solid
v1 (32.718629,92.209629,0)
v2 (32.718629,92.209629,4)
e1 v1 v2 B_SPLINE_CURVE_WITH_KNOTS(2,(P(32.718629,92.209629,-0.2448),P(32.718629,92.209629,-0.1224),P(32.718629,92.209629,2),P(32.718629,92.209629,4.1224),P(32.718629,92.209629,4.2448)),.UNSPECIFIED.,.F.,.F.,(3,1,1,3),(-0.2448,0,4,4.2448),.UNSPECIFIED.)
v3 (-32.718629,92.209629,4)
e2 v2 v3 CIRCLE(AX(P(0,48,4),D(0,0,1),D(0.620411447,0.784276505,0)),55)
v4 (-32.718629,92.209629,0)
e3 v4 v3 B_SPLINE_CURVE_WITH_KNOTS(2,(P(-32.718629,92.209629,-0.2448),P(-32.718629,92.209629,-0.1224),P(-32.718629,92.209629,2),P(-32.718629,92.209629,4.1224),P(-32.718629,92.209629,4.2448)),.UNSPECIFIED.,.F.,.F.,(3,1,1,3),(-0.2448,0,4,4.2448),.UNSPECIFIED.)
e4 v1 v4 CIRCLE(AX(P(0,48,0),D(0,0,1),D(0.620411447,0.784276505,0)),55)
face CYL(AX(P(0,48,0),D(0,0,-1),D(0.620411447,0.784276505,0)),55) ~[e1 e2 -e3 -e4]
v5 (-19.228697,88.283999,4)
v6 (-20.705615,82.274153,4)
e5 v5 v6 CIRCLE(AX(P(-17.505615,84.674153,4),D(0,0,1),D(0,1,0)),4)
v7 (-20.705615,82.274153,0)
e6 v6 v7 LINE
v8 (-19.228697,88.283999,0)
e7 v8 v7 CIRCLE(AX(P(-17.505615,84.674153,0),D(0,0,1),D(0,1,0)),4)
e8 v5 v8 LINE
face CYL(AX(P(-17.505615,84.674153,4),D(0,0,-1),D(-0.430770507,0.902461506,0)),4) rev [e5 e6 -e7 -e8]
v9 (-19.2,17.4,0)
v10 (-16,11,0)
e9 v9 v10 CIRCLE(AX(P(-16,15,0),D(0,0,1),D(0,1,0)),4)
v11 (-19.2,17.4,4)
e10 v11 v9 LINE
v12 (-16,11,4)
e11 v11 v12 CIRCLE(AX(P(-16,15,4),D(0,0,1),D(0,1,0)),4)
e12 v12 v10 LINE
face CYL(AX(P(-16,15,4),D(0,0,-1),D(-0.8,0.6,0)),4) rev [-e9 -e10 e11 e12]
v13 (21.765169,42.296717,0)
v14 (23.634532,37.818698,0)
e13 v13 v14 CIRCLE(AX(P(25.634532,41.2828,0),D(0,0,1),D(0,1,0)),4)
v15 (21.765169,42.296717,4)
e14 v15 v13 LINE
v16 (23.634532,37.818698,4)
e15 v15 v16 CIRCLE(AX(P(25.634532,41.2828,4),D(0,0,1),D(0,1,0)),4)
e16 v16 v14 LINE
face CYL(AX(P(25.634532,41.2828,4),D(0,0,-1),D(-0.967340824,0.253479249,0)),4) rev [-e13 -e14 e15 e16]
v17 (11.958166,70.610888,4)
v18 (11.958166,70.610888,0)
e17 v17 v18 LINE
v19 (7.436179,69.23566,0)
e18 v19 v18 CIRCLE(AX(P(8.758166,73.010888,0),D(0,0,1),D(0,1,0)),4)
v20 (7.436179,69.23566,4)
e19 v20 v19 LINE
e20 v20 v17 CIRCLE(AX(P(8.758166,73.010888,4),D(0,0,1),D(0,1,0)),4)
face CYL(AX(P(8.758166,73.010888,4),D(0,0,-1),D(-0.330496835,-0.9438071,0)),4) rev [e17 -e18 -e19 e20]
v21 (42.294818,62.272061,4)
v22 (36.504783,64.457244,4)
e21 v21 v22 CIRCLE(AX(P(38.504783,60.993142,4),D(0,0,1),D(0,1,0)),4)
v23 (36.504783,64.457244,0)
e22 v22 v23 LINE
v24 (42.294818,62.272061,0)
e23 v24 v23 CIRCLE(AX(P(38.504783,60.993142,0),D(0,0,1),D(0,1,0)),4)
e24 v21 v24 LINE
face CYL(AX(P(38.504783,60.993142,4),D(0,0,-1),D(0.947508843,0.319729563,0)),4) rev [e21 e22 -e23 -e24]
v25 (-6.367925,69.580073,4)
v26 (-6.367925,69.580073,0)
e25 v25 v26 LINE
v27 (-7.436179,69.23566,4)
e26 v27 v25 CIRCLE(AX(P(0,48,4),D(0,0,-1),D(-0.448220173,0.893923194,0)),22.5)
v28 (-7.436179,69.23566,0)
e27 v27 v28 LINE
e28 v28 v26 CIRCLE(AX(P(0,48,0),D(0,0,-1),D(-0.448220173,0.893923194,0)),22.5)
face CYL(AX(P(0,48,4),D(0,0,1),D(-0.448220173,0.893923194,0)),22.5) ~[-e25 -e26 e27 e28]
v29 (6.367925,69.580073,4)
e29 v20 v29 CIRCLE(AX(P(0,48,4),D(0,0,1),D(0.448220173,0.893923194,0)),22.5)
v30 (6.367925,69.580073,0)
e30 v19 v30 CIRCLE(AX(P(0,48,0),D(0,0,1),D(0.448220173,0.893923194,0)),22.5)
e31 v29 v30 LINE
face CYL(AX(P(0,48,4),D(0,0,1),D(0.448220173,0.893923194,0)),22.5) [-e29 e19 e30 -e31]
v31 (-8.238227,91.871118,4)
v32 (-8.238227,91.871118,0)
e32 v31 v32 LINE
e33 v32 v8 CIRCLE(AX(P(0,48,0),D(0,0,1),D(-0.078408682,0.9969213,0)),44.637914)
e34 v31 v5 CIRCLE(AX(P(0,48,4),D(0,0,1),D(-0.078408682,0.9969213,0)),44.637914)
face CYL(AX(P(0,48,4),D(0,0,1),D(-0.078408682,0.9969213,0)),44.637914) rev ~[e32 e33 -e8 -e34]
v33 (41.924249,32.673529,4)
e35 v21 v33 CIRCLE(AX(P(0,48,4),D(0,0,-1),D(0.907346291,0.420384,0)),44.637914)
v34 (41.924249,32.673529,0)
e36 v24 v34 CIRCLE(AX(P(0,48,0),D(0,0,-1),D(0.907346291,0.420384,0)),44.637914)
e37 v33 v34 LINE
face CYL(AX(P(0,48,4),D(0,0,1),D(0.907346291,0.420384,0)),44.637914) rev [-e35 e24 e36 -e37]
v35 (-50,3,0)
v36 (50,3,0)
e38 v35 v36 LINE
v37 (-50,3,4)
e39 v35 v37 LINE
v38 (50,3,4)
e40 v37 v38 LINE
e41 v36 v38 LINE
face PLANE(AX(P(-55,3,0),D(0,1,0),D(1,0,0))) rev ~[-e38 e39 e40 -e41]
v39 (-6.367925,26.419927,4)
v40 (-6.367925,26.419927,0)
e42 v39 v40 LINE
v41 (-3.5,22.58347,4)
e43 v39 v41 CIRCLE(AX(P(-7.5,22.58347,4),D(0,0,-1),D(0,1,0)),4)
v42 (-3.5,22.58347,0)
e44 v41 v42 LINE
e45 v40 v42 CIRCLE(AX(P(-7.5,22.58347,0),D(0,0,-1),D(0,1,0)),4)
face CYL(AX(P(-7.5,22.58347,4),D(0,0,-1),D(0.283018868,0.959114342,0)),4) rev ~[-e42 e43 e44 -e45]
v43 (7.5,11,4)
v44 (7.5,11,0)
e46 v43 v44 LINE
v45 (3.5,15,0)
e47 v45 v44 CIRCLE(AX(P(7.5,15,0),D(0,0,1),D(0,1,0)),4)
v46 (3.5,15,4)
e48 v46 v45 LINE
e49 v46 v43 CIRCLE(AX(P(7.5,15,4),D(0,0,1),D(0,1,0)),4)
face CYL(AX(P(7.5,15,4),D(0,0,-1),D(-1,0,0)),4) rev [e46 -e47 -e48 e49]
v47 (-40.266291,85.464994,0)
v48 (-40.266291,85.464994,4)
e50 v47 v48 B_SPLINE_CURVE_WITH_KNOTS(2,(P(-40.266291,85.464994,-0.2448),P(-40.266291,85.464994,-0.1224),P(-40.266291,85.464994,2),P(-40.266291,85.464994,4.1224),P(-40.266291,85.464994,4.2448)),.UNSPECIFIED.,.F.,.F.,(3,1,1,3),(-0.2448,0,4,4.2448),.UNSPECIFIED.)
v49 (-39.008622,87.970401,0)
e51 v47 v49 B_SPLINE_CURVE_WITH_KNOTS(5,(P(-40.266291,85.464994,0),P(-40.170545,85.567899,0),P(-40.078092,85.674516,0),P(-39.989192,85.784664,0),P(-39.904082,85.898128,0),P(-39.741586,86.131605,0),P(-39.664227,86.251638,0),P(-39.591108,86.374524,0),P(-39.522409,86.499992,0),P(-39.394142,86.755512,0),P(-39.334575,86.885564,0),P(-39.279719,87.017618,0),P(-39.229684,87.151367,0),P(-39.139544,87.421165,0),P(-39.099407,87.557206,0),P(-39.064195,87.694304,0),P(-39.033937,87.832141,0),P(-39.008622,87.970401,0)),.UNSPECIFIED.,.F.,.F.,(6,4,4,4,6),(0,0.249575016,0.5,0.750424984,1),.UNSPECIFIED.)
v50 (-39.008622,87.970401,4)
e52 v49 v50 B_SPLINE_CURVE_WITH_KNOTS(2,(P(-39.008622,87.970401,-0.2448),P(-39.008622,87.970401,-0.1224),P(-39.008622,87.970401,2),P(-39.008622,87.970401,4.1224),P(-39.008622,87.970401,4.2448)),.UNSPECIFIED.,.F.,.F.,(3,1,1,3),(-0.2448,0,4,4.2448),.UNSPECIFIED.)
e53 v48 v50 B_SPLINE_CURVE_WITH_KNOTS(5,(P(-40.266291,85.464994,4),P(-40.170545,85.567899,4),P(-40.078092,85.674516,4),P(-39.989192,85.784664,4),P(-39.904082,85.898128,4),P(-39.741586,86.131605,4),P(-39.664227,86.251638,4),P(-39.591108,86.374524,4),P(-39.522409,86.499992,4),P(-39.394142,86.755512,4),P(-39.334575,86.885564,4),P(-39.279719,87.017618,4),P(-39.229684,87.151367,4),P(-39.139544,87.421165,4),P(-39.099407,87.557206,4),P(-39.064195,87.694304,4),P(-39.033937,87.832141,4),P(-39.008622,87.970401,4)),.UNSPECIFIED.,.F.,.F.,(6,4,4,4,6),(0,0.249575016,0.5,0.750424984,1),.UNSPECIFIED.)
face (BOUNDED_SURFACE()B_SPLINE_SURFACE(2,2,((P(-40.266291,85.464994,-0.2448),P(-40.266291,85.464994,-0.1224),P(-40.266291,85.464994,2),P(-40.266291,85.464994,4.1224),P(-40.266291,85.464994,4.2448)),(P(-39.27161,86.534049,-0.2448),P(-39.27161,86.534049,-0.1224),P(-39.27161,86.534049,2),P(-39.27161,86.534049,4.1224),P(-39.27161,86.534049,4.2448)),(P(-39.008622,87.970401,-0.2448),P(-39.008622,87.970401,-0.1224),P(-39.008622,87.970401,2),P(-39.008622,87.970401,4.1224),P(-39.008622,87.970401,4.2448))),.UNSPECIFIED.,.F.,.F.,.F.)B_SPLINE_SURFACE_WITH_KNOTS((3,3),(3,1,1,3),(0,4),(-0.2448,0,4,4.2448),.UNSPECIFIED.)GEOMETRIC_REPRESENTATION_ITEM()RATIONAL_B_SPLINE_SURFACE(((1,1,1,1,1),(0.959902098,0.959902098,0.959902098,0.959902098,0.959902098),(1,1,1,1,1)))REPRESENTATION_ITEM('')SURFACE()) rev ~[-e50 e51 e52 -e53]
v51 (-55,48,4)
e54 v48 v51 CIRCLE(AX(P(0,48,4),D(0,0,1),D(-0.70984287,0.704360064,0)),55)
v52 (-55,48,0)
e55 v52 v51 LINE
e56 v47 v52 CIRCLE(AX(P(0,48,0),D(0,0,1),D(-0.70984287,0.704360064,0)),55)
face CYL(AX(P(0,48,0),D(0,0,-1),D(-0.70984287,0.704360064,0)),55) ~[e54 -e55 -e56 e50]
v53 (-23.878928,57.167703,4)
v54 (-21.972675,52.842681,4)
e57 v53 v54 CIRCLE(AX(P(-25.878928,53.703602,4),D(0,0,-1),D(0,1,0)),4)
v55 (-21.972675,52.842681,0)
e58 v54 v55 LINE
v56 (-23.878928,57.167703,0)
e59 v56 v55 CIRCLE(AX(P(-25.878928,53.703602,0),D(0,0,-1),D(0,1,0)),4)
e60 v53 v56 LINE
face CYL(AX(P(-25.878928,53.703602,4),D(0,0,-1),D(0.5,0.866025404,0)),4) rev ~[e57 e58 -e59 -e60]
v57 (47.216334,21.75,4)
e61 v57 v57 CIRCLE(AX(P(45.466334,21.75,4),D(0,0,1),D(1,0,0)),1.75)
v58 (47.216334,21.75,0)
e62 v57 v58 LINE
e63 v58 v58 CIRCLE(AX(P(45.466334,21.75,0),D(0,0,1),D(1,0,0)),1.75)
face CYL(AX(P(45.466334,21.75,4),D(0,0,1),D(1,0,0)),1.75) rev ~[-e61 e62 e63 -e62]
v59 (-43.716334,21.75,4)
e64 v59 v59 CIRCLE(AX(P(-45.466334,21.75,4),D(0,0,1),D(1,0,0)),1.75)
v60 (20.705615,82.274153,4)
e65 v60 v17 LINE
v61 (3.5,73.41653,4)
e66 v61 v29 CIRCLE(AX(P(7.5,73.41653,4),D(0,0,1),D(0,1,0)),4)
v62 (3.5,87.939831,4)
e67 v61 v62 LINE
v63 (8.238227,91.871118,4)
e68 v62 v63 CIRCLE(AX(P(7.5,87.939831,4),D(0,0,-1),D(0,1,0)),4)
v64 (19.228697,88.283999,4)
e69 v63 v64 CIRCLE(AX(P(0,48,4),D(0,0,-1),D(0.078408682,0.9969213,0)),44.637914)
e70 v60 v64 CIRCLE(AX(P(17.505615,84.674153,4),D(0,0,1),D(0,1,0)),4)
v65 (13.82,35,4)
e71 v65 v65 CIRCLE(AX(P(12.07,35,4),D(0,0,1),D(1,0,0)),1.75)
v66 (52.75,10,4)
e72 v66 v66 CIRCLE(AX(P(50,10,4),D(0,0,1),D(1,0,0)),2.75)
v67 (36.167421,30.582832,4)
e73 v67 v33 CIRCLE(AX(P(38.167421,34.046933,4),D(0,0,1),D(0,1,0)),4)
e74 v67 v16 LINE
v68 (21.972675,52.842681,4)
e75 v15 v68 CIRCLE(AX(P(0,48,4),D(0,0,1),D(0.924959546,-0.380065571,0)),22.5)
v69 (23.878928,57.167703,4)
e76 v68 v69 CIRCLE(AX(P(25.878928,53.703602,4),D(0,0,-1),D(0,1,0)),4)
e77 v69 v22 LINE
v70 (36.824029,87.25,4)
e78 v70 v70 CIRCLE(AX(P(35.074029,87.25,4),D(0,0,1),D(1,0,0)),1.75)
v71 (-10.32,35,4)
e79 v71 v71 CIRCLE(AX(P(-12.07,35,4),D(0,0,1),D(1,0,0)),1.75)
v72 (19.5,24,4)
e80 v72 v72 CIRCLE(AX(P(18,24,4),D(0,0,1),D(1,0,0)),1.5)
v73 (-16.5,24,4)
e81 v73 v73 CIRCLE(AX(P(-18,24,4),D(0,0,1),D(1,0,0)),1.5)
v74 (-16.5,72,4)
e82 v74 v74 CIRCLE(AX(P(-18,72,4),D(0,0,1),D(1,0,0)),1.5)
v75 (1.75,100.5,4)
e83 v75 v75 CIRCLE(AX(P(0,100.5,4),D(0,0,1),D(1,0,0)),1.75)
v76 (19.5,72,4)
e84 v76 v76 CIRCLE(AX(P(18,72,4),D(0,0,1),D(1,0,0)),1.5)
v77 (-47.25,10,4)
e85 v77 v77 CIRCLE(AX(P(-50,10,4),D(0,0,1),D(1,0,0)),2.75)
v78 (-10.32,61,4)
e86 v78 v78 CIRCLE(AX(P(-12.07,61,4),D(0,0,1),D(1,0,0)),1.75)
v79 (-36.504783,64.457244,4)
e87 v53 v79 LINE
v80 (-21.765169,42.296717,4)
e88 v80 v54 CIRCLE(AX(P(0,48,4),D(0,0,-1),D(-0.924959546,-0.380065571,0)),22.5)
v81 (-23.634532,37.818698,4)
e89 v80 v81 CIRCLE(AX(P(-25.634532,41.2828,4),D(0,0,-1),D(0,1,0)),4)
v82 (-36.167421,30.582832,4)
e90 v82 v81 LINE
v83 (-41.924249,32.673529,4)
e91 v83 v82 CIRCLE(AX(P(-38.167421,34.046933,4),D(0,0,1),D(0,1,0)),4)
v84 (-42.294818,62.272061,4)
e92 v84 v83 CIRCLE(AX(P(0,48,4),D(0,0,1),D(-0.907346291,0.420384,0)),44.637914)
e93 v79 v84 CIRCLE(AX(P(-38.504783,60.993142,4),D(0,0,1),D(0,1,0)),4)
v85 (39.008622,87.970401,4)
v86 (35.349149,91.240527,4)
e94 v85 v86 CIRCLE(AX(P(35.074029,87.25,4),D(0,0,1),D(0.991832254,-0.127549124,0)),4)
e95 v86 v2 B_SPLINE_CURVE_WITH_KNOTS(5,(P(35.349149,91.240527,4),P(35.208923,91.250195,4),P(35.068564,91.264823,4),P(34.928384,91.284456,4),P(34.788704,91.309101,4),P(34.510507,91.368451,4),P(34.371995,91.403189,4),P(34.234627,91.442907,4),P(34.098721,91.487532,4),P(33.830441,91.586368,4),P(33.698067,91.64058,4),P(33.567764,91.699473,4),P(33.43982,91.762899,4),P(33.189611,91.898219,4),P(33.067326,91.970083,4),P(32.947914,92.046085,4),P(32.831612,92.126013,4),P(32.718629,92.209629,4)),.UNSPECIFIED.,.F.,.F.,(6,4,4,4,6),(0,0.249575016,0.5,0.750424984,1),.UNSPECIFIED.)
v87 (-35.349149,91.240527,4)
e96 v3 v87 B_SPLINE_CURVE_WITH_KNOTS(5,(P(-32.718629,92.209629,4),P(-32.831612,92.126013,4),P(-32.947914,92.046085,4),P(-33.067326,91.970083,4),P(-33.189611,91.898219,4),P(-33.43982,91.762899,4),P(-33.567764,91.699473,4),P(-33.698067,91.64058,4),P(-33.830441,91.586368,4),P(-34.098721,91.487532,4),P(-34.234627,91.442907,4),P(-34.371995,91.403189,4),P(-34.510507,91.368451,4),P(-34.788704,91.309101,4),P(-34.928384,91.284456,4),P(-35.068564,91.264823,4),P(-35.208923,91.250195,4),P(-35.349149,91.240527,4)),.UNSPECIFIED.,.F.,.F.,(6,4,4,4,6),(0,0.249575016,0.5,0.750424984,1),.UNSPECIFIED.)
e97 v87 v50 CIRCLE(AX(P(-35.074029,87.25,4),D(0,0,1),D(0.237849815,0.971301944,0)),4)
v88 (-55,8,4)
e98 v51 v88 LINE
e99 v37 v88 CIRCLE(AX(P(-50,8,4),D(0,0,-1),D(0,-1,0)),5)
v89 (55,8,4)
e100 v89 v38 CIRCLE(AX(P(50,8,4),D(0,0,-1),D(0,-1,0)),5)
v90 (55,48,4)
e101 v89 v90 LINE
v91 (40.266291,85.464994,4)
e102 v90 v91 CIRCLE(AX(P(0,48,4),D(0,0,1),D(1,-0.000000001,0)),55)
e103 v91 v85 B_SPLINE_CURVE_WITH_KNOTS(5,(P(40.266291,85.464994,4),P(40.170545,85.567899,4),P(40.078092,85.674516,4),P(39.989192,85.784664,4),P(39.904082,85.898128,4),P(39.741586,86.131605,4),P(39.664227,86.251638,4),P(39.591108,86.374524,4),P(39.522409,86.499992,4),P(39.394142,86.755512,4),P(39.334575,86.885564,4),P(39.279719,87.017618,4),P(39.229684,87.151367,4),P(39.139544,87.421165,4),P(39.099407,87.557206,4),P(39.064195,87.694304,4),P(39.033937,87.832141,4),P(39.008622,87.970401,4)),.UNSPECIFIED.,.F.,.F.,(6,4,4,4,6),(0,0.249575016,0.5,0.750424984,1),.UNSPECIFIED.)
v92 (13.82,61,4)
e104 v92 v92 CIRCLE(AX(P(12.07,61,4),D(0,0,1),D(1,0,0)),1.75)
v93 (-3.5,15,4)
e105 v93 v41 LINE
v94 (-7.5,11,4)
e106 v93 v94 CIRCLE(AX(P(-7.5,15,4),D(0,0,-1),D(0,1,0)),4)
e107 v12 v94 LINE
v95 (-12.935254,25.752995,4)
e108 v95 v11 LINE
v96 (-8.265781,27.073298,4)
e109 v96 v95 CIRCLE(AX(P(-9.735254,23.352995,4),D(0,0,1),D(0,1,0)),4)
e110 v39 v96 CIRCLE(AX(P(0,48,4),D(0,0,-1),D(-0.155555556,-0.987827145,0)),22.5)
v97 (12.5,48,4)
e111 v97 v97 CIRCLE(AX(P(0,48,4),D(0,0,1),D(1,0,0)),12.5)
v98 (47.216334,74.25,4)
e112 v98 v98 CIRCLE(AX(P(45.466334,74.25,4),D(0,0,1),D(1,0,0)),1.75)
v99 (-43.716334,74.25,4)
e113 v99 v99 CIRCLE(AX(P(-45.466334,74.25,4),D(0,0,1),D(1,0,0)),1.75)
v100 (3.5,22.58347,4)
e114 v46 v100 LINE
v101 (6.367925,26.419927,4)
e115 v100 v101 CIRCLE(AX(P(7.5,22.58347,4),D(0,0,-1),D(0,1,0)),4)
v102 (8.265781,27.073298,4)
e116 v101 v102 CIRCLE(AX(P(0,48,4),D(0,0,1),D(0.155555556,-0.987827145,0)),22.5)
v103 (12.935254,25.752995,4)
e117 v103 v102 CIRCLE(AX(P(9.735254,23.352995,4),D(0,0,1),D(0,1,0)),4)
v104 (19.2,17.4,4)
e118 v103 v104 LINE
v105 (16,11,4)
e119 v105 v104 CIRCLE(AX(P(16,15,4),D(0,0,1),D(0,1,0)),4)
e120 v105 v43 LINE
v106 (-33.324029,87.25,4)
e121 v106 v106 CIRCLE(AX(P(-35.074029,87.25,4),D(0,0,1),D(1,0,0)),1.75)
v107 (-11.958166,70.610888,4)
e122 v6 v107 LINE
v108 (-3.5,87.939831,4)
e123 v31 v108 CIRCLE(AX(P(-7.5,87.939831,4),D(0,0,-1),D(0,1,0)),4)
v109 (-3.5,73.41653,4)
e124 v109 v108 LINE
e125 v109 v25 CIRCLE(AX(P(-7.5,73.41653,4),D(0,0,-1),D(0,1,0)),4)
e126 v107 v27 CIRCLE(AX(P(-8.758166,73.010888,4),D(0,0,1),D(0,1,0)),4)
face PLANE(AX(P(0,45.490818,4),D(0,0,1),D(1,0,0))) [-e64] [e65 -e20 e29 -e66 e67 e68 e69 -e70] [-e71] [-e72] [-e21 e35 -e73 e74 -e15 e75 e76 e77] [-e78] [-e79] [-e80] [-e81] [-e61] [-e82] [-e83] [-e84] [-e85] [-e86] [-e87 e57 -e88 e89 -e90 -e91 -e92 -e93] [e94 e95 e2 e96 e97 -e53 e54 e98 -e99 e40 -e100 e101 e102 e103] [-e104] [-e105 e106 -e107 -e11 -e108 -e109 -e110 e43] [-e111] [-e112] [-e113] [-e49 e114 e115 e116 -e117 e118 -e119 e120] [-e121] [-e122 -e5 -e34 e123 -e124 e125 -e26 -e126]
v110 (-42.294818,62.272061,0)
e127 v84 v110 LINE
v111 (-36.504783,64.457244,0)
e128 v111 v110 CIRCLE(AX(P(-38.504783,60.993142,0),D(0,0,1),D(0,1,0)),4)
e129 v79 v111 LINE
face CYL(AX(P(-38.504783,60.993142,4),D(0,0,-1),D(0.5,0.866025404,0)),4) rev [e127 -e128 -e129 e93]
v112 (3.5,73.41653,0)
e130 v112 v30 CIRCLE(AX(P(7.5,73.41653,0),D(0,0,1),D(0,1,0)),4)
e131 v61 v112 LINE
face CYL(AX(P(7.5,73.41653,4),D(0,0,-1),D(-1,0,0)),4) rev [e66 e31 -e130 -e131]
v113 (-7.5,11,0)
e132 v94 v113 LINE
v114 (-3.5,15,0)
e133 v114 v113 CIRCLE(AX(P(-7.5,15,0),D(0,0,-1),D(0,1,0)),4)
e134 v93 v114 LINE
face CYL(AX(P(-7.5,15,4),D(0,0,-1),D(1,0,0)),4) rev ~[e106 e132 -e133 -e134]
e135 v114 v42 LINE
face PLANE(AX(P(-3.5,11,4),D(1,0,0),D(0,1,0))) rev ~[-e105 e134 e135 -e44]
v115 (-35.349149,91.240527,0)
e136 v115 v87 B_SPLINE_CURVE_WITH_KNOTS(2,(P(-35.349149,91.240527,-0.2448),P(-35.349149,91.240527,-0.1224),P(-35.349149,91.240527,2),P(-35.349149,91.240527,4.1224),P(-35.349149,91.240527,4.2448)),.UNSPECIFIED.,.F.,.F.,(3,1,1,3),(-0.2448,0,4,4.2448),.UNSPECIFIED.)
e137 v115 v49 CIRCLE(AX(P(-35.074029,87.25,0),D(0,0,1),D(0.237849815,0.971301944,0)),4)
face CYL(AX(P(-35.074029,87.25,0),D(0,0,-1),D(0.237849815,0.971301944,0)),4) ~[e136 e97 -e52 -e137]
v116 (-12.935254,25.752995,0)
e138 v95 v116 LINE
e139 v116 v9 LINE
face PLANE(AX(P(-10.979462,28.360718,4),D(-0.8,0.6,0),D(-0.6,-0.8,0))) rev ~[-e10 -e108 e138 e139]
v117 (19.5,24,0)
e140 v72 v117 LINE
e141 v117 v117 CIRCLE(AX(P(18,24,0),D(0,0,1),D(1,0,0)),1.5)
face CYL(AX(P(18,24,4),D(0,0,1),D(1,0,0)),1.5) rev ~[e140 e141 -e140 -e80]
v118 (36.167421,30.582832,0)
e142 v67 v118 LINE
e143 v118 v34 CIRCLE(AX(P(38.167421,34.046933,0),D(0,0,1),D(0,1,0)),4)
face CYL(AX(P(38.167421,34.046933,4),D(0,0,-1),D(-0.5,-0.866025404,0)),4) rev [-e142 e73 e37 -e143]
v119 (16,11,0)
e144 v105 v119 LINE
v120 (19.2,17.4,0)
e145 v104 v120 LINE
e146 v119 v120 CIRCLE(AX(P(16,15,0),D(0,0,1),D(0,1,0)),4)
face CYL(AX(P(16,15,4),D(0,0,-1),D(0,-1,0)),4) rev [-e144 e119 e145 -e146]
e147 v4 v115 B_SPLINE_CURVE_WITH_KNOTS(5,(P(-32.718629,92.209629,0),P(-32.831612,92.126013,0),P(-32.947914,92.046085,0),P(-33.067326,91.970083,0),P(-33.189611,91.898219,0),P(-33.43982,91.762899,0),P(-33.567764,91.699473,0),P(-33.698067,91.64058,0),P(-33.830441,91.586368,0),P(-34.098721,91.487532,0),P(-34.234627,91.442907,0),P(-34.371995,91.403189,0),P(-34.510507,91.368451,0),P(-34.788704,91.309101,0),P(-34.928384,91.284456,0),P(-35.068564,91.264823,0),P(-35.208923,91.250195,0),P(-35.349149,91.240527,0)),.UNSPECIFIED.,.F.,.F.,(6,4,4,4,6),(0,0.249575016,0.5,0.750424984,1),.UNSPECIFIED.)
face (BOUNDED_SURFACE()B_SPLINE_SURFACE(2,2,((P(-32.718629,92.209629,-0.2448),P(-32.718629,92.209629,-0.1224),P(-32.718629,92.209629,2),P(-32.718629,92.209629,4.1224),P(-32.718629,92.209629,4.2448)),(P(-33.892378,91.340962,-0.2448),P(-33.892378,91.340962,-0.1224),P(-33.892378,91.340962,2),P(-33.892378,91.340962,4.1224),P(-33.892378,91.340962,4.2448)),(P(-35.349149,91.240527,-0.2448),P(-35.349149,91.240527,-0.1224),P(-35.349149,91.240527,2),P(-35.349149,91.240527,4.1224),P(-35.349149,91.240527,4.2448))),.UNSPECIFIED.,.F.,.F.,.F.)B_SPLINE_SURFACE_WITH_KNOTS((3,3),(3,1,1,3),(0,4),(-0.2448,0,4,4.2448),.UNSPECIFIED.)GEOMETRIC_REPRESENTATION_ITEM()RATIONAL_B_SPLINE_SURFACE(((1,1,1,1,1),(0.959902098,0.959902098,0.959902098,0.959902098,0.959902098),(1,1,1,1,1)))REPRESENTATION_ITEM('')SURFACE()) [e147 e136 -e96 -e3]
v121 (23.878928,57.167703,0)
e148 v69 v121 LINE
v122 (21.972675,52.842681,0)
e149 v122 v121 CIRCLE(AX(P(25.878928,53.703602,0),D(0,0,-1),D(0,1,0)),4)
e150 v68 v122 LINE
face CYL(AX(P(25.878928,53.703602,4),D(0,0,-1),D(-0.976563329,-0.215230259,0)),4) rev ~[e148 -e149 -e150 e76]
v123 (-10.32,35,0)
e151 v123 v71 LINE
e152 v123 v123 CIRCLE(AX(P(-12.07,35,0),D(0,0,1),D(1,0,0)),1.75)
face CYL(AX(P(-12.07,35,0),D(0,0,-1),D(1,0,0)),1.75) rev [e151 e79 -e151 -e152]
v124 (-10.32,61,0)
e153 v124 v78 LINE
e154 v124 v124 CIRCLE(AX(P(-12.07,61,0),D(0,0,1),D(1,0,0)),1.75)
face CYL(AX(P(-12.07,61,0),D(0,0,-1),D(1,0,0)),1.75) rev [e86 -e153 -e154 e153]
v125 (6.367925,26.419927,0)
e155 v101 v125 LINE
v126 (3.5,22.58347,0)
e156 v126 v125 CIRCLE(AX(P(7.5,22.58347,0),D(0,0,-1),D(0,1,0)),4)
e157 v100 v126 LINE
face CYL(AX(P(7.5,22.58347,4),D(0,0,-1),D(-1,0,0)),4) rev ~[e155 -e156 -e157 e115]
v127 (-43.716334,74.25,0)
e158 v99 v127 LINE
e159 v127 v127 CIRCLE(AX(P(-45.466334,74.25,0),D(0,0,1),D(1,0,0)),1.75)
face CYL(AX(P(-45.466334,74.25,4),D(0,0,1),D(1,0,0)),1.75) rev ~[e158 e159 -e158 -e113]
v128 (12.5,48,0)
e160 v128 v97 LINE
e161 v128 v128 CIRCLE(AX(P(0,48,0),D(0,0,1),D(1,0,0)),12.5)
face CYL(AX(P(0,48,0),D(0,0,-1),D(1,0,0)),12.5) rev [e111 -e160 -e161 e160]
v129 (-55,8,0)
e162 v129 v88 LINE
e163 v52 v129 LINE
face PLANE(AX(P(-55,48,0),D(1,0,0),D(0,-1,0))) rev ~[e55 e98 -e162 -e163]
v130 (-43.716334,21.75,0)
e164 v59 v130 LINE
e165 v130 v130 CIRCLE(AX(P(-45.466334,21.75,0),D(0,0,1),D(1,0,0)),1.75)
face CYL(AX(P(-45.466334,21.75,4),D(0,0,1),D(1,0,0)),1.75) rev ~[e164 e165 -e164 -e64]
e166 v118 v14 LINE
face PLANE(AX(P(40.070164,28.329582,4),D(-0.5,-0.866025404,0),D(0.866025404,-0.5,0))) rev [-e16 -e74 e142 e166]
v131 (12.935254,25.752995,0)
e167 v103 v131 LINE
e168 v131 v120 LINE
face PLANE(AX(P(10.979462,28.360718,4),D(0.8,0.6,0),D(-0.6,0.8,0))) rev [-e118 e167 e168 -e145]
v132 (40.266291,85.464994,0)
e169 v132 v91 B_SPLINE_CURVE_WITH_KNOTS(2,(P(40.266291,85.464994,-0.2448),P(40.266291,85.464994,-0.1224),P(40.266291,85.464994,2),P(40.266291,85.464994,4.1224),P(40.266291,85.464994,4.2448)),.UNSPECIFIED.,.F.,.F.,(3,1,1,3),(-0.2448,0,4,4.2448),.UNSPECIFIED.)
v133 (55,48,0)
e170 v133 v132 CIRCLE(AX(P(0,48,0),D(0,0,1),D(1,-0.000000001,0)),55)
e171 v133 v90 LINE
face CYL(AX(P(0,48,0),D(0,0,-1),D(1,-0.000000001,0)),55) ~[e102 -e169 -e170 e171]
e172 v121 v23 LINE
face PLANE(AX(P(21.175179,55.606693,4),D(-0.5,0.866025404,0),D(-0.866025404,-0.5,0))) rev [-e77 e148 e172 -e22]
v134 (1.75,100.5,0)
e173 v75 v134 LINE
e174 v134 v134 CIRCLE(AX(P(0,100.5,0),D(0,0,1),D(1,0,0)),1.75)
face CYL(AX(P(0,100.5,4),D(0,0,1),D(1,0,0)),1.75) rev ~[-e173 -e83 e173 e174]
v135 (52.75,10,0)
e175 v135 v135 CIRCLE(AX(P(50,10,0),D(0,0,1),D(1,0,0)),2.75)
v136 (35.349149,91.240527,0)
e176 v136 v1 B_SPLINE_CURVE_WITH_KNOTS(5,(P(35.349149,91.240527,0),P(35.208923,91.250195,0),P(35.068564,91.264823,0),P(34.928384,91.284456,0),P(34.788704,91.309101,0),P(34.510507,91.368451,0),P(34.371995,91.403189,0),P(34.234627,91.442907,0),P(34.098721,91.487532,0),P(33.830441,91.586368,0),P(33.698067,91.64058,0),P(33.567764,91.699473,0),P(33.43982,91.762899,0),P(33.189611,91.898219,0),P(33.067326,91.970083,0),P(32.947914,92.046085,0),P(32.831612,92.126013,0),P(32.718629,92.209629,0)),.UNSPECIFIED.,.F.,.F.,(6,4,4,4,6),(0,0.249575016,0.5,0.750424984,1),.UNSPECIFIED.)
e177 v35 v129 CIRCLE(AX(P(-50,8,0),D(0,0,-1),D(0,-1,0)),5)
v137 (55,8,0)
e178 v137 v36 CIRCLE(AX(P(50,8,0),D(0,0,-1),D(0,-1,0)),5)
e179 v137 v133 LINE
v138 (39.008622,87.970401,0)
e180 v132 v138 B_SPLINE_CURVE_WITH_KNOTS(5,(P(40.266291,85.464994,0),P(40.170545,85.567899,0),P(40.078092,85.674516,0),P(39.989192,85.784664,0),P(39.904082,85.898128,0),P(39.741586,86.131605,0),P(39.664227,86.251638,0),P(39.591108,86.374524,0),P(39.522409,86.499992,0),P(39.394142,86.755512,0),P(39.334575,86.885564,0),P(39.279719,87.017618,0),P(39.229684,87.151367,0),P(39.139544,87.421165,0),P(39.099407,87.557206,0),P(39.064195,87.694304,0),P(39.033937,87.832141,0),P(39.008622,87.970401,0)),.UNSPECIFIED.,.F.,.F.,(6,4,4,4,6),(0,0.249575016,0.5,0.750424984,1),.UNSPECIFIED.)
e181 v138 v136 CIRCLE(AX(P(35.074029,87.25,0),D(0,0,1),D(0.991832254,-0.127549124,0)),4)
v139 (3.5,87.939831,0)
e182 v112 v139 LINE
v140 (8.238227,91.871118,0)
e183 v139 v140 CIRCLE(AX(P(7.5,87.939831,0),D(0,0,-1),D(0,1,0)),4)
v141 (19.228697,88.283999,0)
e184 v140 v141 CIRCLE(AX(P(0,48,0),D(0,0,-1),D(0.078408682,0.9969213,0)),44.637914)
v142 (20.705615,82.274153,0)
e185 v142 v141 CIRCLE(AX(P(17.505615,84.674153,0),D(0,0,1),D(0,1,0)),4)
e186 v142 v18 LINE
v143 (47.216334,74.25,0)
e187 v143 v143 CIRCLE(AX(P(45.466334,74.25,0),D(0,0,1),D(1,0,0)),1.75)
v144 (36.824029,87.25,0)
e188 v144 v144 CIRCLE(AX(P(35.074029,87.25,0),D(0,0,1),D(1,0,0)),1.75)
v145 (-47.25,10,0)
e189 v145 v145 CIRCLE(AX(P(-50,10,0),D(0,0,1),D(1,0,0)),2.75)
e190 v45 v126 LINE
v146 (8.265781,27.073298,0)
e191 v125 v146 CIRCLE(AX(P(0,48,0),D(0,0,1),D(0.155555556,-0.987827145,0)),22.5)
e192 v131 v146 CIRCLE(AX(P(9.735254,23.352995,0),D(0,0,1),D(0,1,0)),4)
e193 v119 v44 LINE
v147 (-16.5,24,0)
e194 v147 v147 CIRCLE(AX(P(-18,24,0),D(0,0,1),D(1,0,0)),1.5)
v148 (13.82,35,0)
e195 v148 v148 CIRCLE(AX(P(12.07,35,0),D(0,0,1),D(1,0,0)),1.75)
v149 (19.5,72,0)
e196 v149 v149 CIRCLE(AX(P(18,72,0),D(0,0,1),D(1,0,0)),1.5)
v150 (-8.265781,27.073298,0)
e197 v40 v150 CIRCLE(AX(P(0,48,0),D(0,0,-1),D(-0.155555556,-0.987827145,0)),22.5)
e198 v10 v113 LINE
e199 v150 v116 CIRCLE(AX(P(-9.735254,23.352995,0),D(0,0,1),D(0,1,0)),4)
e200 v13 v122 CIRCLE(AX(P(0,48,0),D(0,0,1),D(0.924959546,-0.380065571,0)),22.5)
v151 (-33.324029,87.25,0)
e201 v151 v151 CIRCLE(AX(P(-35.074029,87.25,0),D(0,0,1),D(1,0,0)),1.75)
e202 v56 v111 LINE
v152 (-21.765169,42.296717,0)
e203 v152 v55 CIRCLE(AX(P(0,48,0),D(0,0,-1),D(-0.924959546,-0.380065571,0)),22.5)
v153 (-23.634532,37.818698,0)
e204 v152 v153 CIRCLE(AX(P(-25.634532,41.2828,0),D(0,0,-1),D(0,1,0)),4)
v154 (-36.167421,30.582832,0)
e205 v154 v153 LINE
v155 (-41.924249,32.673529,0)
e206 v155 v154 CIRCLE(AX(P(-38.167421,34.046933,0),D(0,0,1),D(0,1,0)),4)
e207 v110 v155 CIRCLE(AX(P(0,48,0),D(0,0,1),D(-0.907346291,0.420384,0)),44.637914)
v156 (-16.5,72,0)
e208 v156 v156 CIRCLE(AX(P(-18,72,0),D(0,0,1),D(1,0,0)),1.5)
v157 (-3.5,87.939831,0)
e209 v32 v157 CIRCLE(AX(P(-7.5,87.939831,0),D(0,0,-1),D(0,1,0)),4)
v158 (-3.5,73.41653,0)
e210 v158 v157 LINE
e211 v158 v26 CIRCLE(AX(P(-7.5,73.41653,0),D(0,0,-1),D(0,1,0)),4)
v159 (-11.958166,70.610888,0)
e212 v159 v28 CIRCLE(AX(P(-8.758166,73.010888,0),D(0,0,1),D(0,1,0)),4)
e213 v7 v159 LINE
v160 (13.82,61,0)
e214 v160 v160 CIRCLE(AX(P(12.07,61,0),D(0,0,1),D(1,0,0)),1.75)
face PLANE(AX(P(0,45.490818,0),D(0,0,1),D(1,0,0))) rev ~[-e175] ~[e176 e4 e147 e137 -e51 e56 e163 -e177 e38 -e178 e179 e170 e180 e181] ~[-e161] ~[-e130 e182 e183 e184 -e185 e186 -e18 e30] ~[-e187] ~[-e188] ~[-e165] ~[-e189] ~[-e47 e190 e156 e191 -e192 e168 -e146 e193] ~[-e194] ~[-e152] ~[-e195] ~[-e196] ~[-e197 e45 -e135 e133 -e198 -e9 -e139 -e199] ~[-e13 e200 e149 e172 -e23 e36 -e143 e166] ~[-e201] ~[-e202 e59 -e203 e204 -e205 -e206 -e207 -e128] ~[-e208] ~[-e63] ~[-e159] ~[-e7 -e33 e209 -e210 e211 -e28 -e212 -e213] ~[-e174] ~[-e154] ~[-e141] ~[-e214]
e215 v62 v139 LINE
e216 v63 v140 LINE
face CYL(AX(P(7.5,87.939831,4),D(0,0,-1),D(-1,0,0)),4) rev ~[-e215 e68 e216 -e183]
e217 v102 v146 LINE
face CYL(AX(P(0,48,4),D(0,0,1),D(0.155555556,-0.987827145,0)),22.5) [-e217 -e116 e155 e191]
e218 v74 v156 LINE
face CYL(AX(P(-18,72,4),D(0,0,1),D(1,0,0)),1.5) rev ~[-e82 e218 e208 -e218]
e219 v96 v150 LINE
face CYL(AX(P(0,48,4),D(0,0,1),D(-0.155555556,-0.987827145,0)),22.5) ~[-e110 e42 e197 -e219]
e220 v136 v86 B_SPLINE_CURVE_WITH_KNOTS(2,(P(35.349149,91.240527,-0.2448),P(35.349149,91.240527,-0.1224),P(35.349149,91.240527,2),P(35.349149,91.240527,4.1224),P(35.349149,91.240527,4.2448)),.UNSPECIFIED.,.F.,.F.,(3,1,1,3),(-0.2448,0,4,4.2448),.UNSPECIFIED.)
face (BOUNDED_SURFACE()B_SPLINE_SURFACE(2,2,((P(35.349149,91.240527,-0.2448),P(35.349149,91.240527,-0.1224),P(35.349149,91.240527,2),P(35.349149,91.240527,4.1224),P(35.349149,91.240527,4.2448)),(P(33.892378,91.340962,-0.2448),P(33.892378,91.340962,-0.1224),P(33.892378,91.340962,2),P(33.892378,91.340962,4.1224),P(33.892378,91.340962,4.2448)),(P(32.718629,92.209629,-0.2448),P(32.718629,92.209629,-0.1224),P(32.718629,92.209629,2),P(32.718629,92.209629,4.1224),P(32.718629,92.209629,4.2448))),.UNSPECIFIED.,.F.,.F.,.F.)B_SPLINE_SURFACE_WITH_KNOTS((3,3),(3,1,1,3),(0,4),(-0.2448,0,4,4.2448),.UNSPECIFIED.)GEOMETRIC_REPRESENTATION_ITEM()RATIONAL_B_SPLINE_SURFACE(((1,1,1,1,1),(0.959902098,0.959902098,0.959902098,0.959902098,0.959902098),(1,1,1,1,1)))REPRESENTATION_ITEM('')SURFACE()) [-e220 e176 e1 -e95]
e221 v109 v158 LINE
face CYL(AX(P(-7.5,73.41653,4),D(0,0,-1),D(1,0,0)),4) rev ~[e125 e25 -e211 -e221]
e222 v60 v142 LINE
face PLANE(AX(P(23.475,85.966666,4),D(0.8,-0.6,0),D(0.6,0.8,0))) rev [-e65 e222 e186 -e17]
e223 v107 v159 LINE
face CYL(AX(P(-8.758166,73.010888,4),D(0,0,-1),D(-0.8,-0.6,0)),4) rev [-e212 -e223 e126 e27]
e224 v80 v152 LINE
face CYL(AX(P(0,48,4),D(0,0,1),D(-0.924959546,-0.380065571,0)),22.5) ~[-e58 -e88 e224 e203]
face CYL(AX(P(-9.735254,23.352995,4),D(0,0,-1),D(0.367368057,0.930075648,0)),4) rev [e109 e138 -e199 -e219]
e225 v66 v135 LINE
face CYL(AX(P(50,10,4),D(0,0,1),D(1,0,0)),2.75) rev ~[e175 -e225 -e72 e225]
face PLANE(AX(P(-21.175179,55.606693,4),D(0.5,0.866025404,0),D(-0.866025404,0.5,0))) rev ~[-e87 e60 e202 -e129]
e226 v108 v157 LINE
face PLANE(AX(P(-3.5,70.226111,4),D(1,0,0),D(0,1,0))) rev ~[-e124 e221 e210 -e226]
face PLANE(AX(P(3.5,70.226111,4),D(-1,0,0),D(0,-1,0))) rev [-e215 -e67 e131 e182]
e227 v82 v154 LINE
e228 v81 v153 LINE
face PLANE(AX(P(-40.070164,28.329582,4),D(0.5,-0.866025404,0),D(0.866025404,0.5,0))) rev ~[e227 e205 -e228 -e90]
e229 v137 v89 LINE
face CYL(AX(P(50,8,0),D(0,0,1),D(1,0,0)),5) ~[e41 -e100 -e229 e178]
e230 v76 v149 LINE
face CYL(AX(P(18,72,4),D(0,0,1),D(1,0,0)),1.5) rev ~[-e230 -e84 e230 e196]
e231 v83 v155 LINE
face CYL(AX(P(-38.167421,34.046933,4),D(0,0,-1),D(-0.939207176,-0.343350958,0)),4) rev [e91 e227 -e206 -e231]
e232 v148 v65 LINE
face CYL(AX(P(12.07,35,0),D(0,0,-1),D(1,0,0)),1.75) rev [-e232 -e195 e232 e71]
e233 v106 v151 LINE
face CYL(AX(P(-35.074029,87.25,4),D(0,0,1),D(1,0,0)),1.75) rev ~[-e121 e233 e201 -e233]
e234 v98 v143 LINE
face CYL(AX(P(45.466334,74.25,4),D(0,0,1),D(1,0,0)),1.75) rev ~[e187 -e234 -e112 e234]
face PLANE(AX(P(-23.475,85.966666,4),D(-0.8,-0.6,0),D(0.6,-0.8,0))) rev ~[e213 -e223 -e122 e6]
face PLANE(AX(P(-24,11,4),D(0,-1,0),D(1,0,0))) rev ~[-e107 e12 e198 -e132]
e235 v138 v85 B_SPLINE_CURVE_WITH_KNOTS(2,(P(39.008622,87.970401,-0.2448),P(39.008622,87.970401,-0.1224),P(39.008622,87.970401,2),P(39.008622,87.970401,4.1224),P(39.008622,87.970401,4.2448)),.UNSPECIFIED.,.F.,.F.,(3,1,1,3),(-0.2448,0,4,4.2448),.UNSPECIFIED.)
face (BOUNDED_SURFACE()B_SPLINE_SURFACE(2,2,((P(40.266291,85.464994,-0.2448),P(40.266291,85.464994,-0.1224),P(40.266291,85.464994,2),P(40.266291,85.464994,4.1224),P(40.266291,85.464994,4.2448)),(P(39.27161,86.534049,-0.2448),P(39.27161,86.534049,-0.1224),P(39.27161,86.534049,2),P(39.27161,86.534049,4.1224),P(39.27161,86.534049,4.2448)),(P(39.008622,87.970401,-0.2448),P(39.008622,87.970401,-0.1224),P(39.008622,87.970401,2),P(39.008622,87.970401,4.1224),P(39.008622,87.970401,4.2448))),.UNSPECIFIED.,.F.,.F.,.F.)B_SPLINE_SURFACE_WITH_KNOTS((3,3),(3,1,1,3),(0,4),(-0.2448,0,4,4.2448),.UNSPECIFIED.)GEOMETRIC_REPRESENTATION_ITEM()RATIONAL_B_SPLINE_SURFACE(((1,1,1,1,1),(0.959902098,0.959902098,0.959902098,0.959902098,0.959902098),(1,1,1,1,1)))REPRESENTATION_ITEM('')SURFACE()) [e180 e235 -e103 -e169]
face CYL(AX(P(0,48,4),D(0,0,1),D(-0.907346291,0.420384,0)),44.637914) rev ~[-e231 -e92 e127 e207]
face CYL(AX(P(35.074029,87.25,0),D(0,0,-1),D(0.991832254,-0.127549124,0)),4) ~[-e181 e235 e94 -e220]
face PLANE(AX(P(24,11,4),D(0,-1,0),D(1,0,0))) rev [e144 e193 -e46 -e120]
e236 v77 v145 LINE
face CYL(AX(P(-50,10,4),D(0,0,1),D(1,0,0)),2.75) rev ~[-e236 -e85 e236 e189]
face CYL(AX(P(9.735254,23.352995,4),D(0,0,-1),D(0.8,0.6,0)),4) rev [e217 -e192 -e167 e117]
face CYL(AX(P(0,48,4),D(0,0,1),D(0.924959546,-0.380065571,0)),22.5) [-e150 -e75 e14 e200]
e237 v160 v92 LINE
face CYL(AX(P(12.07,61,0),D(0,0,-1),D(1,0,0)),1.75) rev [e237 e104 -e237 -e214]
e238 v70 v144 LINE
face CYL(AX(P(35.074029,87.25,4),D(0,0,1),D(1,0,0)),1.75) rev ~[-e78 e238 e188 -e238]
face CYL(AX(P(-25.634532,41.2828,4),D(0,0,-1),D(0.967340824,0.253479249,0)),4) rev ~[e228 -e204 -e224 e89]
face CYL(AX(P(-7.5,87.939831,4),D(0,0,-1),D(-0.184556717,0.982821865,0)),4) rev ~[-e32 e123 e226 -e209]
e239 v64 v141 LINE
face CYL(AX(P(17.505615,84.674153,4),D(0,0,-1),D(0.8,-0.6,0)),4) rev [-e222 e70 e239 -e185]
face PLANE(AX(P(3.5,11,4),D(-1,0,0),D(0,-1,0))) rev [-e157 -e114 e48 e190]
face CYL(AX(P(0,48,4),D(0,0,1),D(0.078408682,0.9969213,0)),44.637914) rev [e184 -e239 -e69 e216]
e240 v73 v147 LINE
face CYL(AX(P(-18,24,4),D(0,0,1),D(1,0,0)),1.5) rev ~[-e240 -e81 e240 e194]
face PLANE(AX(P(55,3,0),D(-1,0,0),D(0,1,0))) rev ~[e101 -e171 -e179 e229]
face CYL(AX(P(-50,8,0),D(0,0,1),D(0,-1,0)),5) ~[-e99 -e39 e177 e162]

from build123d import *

# Parameters (mm, degrees)
SKETCH_2_R          = 1.25
SKETCH_2_R_2        = 1.75
SKETCH_2_R_3        = 12.5
SKETCH_2_R_4        = 2.55
SKETCH_2_R_5        = 1.5
SKETCH_2_R_6        = 1.55
EXTRUDE_1_DEPTH     = 4
CUT_EXTRUDE_1_DEPTH = 4
FILLET_2_R          = 4
FILLET_3_R          = 4
FILLET_4_R          = 5
SKETCH_4_R          = 1.75
SKETCH_4_R_2        = 1.5
SKETCH_4_R_3        = 2.75
CUT_EXTRUDE_2_DEPTH = 10


with BuildPart() as part:
    # 草图2 → 凸台-拉伸1 (new body)
    with BuildSketch(Plane.XY):
        with BuildLine():
            Line((55, 3), (55, 47.999999928))
            ThreePointArc((55, 47.999999928), (50.85407892, 68.949049075), (39.041357871, 86.739803505))
            ThreePointArc((39.041357871, 86.739803505), (37.739334229, 90.232640986), (34.122629592, 91.135207774))
            ThreePointArc((34.122629592, 91.135207774), (0, 103), (-34.122629592, 91.135207774))
            ThreePointArc((-34.122629592, 91.135207774), (-37.739334229, 90.232640986), (-39.041357871, 86.739803505))
            ThreePointArc((-39.041357871, 86.739803505), (-50.854078907, 68.949049108), (-55, 48))
            Line((-55, 48), (-55, 3))
            Line((-55, 3), (55, 3))
        make_face()
        with Locations((-18, 24)):
            Circle(SKETCH_2_R, mode=Mode.SUBTRACT)
        with Locations((-12.07, 35)):
            Circle(SKETCH_2_R_2, mode=Mode.SUBTRACT)
        with Locations((18, 24)):
            Circle(SKETCH_2_R, mode=Mode.SUBTRACT)
        with Locations((12.07, 35)):
            Circle(SKETCH_2_R_2, mode=Mode.SUBTRACT)
        with Locations((0, 48)):
            Circle(SKETCH_2_R_3, mode=Mode.SUBTRACT)
        with Locations((-12.07, 61)):
            Circle(SKETCH_2_R_2, mode=Mode.SUBTRACT)
        with Locations((-18, 72)):
            Circle(SKETCH_2_R, mode=Mode.SUBTRACT)
        with Locations((12.07, 61)):
            Circle(SKETCH_2_R_2, mode=Mode.SUBTRACT)
        with Locations((18, 72)):
            Circle(SKETCH_2_R, mode=Mode.SUBTRACT)
        with Locations((50, 10)):
            Circle(SKETCH_2_R_4, mode=Mode.SUBTRACT)
        with Locations((45.466333699, 21.75)):
            Circle(SKETCH_2_R_5, mode=Mode.SUBTRACT)
        with Locations((45.466333699, 74.25)):
            Circle(SKETCH_2_R_5, mode=Mode.SUBTRACT)
        with Locations((35.074028853, 87.25)):
            Circle(SKETCH_2_R_6, mode=Mode.SUBTRACT)
        with Locations((-50, 10)):
            Circle(SKETCH_2_R_4, mode=Mode.SUBTRACT)
        with Locations((0, 100.5)):
            Circle(SKETCH_2_R_5, mode=Mode.SUBTRACT)
        with Locations((-45.466333699, 21.75)):
            Circle(SKETCH_2_R_5, mode=Mode.SUBTRACT)
        with Locations((-45.466333699, 74.25)):
            Circle(SKETCH_2_R_5, mode=Mode.SUBTRACT)
        with Locations((-35.074028853, 87.25)):
            Circle(SKETCH_2_R_6, mode=Mode.SUBTRACT)
    extrude(amount=EXTRUDE_1_DEPTH)

    # 草图3 → 切除-拉伸1 (cut)
    with BuildSketch(Plane.XY.offset(4)):
        with BuildLine():
            ThreePointArc((-3.5, 25.773889229), (-7.354360894, 26.735866445), (-10.979461873, 28.360717503))
            Line((-10.979461873, 28.360717503), (-24, 11))
            Line((-24, 11), (-3.5, 11))
            Line((-3.5, 11), (-3.5, 25.773889229))
        make_face()
        with BuildLine():
            Line((-21.175179269, 55.606693298), (-40.502045801, 66.765064893))
            ThreePointArc((-40.502045801, 66.765064893), (-44.635096369, 47.4984557), (-40.070163739, 28.329581794))
            Line((-40.070163739, 28.329581794), (-20.811589784, 39.448524651))
            ThreePointArc((-20.811589784, 39.448524651), (-22.494305888, 47.493835393), (-21.175179269, 55.606693298))
        make_face()
        with BuildLine():
            ThreePointArc((-3.5, 92.500487352), (-13.877512662, 90.425912092), (-23.474999809, 85.966666412))
            Line((-23.474999809, 85.966666412), (-10.084953895, 68.11327186))
            ThreePointArc((-10.084953895, 68.11327186), (-6.874137411, 69.424197414), (-3.5, 70.226110771))
            Line((-3.5, 70.226110771), (-3.5, 92.500487352))
        make_face()
    cut_extrude_1 = extrude(amount=-CUT_EXTRUDE_1_DEPTH, mode=Mode.SUBTRACT)

    # 镜向1: 切除-拉伸1 across plane
    add(cut_extrude_1.mirror(Plane(origin=(0, 0, 0), x_dir=(0, 0, 1), z_dir=(1, 0, 0))), mode=Mode.SUBTRACT)

    # 圆角2
    fillet_2_edges = [part.edges().sort_by_distance(p)[0] for p in [
        (-40.502045801, 66.765064893, 2),
        (-21.175179269, 55.606693298, 2),
        (-20.811589784, 39.448524651, 2),
        (-40.070163739, 28.329581794, 2),
    ]]
    fillet(fillet_2_edges, radius=FILLET_2_R)

    # 圆角3
    fillet_3_edges = [part.edges().sort_by_distance(p)[0] for p in [
        (-3.5, 92.500487352, 2),
        (-3.5, 70.226110771, 2),
        (-10.084953895, 68.11327186, 2),
        (-23.474999809, 85.966666412, 2),
        (-10.979461873, 28.360717503, 2),
        (-3.5, 25.773889229, 2),
        (-3.5, 11, 2),
        (-24, 11, 2),
        (3.5, 70.226110771, 2),
        (3.5, 92.500487352, 2),
        (23.474999809, 85.966666412, 2),
        (10.084953895, 68.11327186, 2),
        (21.175179269, 55.606693298, 2),
        (40.502045801, 66.765064893, 2),
        (40.070163739, 28.329581794, 2),
        (20.811589784, 39.448524651, 2),
        (3.5, 25.773889229, 2),
        (10.979461873, 28.360717503, 2),
        (24, 11, 2),
        (3.5, 11, 2),
    ]]
    fillet(fillet_3_edges, radius=FILLET_3_R)

    # 圆角4
    fillet_4_edges = [part.edges().sort_by_distance(p)[0] for p in [
        (39.041357871, 86.739803505, 2),
        (55, 3, 2),
        (-55, 3, 2),
        (-39.041357871, 86.739803505, 2),
        (-34.122629592, 91.135207774, 2),
        (34.122629592, 91.135207774, 2),
    ]]
    fillet(fillet_4_edges, radius=FILLET_4_R)

    # 草图4 → 切除-拉伸2 (cut)
    with BuildSketch(Plane.XY.offset(4)):
        with Locations((-45.466333699, 74.25)):
            Circle(SKETCH_4_R)
        with Locations((-35.074028853, 87.25)):
            Circle(SKETCH_4_R)
        with Locations((0, 100.5)):
            Circle(SKETCH_4_R)
        with Locations((35.074028853, 87.25)):
            Circle(SKETCH_4_R)
        with Locations((45.466333699, 74.25)):
            Circle(SKETCH_4_R)
        with Locations((18, 72)):
            Circle(SKETCH_4_R_2)
        with Locations((-18, 72)):
            Circle(SKETCH_4_R_2)
        with Locations((-18, 24)):
            Circle(SKETCH_4_R_2)
        with Locations((18, 24)):
            Circle(SKETCH_4_R_2)
        with Locations((50, 10)):
            Circle(SKETCH_4_R_3)
        with Locations((-50, 10)):
            Circle(SKETCH_4_R_3)
        with Locations((45.466333699, 21.75)):
            Circle(SKETCH_4_R)
        with Locations((-45.466333699, 21.75)):
            Circle(SKETCH_4_R)
    extrude(amount=-CUT_EXTRUDE_2_DEPTH, mode=Mode.SUBTRACT)


solid = part.part
